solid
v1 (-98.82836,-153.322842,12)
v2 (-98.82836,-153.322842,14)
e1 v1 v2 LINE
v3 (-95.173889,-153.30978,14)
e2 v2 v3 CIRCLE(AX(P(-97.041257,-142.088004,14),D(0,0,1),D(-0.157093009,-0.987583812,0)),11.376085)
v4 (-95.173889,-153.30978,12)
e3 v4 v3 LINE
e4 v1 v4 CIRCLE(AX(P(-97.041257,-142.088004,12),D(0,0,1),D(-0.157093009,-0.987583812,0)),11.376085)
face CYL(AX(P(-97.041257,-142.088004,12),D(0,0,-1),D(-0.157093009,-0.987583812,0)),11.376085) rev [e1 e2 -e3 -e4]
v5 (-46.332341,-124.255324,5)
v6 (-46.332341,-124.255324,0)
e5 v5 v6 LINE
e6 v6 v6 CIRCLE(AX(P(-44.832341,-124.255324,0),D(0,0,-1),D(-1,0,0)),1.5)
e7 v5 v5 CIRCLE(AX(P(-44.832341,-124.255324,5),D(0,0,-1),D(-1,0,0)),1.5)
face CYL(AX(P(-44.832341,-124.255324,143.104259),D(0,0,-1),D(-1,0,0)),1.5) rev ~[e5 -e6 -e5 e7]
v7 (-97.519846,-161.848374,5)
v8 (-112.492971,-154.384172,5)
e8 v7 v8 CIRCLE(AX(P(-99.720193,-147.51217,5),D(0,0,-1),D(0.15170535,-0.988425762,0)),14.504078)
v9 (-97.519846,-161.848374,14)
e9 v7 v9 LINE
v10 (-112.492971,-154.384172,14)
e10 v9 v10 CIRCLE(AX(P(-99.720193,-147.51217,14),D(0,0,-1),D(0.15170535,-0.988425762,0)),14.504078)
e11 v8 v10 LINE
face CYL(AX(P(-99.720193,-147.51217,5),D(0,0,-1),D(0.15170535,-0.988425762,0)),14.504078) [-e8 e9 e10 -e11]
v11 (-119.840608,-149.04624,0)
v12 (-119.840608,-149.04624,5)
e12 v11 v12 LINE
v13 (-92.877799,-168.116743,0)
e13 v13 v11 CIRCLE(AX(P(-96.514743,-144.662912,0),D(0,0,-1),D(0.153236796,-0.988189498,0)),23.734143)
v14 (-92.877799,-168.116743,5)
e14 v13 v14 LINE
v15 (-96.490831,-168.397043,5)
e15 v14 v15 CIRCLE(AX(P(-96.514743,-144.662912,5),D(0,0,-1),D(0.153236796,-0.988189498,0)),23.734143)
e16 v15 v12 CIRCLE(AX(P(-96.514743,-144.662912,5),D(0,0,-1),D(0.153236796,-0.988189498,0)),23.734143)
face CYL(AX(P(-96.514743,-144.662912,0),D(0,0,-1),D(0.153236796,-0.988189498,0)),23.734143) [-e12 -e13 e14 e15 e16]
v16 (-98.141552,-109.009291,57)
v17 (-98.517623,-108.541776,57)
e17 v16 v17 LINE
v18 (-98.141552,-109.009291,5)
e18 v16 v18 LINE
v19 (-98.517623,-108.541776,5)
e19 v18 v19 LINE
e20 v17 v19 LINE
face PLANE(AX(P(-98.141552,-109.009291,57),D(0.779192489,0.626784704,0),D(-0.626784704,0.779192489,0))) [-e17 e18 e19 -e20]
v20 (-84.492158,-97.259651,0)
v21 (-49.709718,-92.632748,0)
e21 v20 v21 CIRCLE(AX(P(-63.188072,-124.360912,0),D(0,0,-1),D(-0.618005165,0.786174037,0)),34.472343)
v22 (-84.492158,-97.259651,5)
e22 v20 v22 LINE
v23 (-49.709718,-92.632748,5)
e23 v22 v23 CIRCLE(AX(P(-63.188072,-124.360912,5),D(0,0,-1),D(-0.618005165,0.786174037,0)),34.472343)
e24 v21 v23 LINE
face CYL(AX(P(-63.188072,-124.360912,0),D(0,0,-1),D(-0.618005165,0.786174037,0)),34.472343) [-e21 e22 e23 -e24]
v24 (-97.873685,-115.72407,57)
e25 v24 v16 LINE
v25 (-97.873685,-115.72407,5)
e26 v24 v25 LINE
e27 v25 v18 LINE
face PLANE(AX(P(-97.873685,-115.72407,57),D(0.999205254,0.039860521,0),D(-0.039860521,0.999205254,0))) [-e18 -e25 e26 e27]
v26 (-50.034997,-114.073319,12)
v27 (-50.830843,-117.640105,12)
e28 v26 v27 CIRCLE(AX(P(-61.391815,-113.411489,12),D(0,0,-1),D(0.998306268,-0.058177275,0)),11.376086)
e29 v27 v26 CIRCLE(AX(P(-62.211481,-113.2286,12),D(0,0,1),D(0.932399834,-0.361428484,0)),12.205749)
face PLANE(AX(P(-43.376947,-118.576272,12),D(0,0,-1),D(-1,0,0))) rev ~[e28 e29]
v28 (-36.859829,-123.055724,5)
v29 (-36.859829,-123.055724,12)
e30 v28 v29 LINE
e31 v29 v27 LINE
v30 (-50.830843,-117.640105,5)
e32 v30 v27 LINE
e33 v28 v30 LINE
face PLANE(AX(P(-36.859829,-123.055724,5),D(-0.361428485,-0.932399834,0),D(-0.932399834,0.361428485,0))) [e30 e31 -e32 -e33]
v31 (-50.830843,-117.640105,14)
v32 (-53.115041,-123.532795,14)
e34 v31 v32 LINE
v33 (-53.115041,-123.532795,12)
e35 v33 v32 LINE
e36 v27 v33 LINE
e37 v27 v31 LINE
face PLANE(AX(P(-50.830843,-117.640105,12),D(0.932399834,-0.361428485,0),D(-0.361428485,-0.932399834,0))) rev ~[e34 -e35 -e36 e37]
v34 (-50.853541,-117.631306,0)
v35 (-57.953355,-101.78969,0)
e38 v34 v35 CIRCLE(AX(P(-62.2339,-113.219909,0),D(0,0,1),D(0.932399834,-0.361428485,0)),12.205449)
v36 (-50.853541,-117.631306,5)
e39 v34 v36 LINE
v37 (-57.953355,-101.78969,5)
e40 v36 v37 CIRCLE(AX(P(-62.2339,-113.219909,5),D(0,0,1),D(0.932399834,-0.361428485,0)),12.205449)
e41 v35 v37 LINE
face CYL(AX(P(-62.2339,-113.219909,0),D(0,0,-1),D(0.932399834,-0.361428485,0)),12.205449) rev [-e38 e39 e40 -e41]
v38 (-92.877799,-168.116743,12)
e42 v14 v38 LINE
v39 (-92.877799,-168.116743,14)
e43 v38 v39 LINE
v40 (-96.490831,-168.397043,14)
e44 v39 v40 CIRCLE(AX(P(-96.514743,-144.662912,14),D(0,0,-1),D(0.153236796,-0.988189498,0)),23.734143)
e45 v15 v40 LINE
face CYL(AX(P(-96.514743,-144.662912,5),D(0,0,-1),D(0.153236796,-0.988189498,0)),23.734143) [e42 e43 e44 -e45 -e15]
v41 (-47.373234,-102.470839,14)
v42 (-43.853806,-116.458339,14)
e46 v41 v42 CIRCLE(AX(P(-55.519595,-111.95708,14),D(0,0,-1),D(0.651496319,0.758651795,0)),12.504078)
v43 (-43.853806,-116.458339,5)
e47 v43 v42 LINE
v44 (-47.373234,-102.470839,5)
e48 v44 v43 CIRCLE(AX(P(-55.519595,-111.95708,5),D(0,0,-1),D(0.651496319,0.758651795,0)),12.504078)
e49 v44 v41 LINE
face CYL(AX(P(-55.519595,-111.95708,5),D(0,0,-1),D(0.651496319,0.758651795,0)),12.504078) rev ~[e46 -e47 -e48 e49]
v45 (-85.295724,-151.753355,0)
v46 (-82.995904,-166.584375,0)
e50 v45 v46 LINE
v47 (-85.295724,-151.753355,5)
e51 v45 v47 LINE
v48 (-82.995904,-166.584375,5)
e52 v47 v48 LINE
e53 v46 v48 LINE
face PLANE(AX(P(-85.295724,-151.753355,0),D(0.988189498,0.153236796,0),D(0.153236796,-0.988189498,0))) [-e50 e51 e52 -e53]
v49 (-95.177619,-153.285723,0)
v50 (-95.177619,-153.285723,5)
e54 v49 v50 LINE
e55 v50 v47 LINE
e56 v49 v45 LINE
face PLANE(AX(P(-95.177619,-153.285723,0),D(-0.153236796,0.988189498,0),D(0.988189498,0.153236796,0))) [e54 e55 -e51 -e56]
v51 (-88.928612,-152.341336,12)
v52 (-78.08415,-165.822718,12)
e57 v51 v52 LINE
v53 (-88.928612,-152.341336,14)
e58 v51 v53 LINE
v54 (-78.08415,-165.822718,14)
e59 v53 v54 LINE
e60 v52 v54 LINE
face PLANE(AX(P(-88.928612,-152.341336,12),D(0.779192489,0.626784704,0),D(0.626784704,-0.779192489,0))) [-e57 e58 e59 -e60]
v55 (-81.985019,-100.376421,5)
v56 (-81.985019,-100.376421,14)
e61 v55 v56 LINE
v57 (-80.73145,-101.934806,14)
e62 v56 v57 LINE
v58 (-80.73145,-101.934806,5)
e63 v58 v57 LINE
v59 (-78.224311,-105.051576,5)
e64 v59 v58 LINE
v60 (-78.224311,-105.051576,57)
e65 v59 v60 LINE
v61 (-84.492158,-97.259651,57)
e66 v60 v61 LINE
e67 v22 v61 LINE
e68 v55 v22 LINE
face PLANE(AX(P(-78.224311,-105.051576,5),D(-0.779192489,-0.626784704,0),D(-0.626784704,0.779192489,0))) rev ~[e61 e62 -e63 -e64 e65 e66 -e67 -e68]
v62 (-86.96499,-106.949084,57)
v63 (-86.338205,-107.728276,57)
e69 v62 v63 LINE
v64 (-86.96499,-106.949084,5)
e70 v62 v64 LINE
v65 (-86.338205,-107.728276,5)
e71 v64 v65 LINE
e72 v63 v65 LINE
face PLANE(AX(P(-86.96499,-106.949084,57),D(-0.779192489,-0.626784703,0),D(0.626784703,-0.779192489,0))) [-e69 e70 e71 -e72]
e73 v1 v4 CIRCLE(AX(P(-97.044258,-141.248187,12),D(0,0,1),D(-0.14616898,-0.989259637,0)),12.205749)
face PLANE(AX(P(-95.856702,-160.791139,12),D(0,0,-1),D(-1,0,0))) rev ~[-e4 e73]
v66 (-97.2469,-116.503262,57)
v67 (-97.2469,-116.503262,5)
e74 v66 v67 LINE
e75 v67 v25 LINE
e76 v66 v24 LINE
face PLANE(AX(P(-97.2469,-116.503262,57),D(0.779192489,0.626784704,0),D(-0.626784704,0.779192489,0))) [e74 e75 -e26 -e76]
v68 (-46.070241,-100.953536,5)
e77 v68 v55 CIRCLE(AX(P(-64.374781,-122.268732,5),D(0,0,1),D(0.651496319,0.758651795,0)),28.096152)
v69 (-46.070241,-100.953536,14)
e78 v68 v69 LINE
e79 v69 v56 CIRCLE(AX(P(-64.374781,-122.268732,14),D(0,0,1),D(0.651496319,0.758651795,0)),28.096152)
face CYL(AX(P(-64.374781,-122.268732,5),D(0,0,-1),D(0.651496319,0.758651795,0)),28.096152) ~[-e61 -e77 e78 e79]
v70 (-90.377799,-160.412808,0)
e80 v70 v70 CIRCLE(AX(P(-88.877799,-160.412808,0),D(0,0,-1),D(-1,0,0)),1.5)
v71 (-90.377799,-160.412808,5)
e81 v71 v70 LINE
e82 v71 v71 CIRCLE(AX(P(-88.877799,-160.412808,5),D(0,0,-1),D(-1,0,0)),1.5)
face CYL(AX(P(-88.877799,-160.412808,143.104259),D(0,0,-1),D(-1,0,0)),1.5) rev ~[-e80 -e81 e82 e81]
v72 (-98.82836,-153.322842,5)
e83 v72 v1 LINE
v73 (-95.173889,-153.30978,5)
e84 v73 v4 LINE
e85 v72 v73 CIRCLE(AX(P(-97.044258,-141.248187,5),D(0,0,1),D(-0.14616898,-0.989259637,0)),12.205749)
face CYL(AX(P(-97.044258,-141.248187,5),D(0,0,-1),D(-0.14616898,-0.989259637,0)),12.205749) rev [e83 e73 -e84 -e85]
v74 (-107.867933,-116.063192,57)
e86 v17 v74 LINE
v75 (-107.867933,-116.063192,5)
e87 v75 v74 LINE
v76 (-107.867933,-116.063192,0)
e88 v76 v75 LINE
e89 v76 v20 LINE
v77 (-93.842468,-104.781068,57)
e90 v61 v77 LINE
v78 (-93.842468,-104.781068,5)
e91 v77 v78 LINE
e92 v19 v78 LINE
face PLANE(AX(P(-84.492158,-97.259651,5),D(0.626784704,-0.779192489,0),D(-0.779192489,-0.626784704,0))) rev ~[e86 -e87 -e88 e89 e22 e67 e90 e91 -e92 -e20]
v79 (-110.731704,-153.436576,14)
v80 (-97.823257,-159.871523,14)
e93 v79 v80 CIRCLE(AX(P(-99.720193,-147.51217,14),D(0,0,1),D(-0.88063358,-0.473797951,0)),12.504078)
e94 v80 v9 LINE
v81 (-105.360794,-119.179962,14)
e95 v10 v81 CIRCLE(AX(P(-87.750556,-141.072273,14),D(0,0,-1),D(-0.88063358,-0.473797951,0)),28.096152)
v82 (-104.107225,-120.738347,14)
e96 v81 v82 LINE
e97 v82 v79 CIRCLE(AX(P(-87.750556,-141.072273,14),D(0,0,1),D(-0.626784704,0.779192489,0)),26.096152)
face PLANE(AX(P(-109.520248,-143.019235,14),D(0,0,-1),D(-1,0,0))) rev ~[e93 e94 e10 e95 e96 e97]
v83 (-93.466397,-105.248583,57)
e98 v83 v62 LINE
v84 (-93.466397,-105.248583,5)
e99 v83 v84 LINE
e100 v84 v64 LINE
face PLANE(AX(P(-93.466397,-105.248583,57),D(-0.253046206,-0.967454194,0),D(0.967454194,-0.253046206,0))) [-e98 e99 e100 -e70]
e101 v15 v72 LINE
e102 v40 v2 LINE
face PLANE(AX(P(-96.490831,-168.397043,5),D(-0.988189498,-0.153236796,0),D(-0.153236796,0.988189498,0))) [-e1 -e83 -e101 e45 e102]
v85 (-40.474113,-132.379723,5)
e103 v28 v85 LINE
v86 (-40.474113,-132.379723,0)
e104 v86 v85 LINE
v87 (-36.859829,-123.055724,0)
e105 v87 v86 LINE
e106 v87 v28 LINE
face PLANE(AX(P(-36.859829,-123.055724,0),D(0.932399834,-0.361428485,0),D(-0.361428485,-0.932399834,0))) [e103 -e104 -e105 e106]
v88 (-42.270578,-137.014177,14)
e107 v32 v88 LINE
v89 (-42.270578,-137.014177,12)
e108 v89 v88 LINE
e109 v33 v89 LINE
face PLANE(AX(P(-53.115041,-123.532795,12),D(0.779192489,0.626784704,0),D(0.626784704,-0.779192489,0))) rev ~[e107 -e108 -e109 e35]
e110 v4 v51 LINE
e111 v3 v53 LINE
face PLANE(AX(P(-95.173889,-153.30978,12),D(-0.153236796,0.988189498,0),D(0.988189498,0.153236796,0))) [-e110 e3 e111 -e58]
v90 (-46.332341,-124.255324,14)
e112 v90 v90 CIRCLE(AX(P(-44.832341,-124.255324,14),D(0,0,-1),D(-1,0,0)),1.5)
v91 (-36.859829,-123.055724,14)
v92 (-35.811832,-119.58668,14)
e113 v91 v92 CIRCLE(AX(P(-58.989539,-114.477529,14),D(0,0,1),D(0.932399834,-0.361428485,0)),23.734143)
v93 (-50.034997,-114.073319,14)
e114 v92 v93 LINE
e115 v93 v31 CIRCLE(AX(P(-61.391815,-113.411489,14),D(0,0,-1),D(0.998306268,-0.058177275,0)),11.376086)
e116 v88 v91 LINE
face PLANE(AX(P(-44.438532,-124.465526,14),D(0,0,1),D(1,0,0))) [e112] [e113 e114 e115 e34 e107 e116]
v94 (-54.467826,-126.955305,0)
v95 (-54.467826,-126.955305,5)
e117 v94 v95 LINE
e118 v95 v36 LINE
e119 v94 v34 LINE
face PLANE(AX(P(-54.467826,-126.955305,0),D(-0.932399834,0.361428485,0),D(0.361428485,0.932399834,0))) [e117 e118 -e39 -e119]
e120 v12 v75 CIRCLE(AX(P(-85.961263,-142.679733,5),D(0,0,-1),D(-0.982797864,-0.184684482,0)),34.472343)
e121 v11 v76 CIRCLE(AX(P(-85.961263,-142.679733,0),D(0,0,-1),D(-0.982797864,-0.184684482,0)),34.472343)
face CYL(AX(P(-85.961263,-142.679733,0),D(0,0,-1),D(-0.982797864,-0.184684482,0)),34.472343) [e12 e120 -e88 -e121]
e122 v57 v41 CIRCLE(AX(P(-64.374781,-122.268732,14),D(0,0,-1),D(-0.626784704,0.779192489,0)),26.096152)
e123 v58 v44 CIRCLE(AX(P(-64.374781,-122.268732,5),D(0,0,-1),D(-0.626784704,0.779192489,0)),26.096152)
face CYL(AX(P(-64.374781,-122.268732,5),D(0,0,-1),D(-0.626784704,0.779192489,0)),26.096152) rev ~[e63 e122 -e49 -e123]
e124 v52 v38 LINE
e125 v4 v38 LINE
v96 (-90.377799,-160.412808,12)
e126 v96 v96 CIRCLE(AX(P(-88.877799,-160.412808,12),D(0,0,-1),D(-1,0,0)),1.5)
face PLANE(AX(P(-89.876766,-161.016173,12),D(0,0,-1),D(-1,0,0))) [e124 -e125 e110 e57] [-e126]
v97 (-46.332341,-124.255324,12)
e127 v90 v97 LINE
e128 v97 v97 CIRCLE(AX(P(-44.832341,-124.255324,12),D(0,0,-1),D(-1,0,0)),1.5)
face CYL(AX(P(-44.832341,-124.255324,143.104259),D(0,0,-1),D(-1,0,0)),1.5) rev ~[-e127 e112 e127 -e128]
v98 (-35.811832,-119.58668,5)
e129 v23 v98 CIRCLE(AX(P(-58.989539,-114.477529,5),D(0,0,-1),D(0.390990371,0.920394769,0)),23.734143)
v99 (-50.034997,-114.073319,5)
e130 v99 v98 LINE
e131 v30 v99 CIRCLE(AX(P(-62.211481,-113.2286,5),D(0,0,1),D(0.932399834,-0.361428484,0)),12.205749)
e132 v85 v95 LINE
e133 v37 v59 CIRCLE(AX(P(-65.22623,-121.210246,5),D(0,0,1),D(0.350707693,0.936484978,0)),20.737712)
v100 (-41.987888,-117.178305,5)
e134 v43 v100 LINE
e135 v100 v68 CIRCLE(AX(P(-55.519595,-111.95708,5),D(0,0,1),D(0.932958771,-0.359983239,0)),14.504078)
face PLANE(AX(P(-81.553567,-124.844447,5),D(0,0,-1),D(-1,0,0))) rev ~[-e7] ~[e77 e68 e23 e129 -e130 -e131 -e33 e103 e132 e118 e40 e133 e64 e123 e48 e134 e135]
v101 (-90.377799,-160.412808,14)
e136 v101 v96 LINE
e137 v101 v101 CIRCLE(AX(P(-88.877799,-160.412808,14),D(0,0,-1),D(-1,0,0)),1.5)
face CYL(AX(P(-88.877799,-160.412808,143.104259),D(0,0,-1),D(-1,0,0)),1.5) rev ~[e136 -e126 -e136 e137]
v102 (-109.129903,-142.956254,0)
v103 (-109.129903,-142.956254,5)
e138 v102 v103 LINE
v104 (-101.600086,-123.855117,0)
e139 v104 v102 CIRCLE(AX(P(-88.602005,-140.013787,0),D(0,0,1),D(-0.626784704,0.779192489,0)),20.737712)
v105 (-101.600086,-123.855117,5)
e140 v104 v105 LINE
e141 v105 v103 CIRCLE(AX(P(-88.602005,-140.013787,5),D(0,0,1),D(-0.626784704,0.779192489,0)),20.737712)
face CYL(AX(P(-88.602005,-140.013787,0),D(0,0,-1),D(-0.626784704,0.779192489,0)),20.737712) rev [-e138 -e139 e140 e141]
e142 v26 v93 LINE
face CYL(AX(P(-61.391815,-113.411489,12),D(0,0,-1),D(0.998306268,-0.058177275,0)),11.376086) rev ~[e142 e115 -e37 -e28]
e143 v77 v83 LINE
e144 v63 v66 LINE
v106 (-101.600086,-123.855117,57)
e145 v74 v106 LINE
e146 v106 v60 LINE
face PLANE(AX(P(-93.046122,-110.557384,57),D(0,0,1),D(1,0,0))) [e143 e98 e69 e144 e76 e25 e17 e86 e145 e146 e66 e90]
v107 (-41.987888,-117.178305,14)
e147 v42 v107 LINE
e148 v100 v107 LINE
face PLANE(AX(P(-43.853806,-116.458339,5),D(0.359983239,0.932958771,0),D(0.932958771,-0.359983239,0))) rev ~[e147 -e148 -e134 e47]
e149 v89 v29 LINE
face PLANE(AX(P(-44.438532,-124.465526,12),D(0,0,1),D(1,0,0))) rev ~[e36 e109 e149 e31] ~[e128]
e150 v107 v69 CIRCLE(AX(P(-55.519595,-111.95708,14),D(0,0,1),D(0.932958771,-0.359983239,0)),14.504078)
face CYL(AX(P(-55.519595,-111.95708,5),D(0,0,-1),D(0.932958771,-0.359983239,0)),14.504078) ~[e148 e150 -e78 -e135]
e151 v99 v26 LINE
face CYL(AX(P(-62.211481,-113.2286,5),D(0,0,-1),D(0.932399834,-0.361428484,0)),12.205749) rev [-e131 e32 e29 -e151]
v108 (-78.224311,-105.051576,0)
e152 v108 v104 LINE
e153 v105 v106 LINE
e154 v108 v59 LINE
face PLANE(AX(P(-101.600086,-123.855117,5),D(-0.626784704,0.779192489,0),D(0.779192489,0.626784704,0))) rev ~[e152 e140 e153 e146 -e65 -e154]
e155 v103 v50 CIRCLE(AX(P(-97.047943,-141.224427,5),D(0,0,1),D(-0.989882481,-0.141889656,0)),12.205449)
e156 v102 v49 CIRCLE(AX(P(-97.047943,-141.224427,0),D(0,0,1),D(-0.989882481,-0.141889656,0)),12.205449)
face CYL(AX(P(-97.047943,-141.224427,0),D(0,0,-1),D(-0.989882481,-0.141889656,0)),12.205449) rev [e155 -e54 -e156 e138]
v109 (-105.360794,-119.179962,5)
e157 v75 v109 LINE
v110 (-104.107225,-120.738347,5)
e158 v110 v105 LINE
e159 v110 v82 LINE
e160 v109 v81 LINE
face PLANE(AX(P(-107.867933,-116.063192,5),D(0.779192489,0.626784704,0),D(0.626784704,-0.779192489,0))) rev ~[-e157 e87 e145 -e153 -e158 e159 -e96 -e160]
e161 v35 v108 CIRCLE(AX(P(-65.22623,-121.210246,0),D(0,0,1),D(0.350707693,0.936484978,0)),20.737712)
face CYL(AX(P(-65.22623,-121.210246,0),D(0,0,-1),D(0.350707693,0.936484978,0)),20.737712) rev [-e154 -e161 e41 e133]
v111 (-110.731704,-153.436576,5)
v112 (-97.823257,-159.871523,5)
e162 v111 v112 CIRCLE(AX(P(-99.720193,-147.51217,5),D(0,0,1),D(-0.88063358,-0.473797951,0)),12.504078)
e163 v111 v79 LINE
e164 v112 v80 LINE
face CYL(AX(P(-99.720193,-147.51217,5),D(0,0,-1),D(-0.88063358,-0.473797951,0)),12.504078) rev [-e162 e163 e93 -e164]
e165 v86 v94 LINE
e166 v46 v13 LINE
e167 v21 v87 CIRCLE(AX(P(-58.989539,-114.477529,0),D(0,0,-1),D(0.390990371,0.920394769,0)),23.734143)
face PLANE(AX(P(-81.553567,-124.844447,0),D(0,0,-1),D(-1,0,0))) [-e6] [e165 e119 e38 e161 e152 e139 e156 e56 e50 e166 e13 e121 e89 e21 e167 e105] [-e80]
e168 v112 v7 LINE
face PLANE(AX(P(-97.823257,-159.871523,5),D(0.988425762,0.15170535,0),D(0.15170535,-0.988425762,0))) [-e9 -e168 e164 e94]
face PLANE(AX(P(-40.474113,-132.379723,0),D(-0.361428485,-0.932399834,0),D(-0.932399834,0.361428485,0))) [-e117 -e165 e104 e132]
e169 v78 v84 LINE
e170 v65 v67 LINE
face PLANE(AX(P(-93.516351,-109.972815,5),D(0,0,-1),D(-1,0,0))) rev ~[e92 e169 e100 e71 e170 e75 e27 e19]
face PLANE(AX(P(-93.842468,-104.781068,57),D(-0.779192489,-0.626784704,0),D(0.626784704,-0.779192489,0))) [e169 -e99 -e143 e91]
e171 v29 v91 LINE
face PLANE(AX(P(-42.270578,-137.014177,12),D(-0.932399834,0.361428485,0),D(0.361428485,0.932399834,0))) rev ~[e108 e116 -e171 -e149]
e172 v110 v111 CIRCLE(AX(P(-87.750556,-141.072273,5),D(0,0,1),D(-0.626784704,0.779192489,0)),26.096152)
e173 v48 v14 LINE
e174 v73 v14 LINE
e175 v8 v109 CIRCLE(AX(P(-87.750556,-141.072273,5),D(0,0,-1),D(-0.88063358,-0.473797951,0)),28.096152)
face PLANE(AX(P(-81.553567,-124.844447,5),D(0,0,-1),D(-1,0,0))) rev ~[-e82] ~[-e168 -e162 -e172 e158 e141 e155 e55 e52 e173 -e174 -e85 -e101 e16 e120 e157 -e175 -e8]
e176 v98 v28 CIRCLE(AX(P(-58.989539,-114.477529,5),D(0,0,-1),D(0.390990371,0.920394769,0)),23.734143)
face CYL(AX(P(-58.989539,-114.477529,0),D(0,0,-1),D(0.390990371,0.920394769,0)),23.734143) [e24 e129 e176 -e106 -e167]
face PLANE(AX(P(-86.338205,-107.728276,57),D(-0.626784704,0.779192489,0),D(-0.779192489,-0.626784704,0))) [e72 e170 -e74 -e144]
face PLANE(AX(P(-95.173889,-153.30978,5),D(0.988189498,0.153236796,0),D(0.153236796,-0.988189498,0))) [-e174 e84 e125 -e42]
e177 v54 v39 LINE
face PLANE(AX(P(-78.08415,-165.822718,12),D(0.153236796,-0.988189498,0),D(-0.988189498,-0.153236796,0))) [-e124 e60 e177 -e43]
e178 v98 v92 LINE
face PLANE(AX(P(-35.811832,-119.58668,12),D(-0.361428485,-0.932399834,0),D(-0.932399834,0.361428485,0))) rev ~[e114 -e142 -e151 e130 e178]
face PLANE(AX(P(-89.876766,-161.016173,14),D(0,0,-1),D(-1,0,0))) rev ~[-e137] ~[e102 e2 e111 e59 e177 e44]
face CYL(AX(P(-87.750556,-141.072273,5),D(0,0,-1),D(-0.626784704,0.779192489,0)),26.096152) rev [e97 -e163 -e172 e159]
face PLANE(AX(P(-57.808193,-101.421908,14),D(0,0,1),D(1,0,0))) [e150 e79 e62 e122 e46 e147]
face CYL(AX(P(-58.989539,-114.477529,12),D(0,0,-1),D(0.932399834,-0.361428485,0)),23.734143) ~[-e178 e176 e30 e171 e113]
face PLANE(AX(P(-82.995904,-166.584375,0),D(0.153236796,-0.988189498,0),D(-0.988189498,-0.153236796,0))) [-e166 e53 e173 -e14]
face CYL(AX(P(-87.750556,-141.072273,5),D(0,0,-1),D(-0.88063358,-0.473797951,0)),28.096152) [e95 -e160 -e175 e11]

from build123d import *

# Parameters (mm, degrees)
ESTRUSIONE_ESTRUSIONE1_DEPTH = 5
ESTRUSIONE_ESTRUSIONE2_DEPTH = 7
ESTRUSIONE_ESTRUSIONE3_DEPTH = 2
ESTRUSIONE_ESTRUSIONE4_DEPTH = 52
TAGLIO_ESTRUSIONE2_DEPTH     = 52
ESTRUSIONE_ESTRUSIONE5_DEPTH = 9
FORI_FILETTATI_3_0MM1_D      = 3


with BuildPart() as part:
    # Schizzo1 → Estrusione-Estrusione1 (new body)
    with BuildSketch(Plane.XY):
        with BuildLine():
            Line((-82.995904107, -166.584374689), (-92.877799089, -168.116742646))
            ThreePointArc((-92.877799089, -168.116742646), (-110.220012955, -164.040092202), (-119.840608042, -149.046239769))
            ThreePointArc((-119.840608042, -149.046239769), (-118.364815633, -130.917411526), (-107.867932944, -116.063192243))
            Line((-107.867932944, -116.063192243), (-84.49215827, -97.259651129))
            ThreePointArc((-84.49215827, -97.259651129), (-67.733683115, -90.189581316), (-49.709718148, -92.632748029))
            ThreePointArc((-49.709718148, -92.632748029), (-37.125664022, -105.242785395), (-36.859828578, -123.055724291))
            Line((-36.859828578, -123.055724291), (-40.474113425, -132.379722631))
            Line((-40.474113425, -132.379722631), (-54.467826156, -126.955304689))
            Line((-54.467826156, -126.955304689), (-50.853541308, -117.631306349))
            ThreePointArc((-50.853541308, -117.631306349), (-51.095893898, -108.22813541), (-57.953355129, -101.789689638))
            ThreePointArc((-57.953355129, -101.789689638), (-68.520842721, -100.735914417), (-78.224311232, -105.051576021))
            Line((-78.224311232, -105.051576021), (-101.600085906, -123.855117134))
            ThreePointArc((-101.600085906, -123.855117134), (-107.894780127, -132.408424149), (-109.129903142, -142.956253658))
            ThreePointArc((-109.129903142, -142.956253658), (-104.310440062, -151.034071069), (-95.177618995, -153.285723315))
            Line((-95.177618995, -153.285723315), (-85.295724012, -151.753355358))
            Line((-85.295724012, -151.753355358), (-82.995904107, -166.584374689))
        make_face()
    extrude(amount=ESTRUSIONE_ESTRUSIONE1_DEPTH)

    # Schizzo2 → Estrusione-Estrusione2 (add)
    with BuildSketch(Plane.XY.offset(5)):
        with BuildLine():
            Line((-36.859828578, -123.055724291), (-50.830842779, -117.640105037))
            ThreePointArc((-50.830842779, -117.640105037), (-50.298673229, -115.886666013), (-50.034997321, -114.073318872))
            Line((-50.034997321, -114.073318872), (-35.811832194, -119.586680021))
            ThreePointArc((-35.811832194, -119.586680021), (-36.269524014, -121.341233275), (-36.859828578, -123.055724291))
        make_face()
        with BuildLine():
            Line((-96.490830562, -168.397042736), (-98.828360202, -153.322841843))
            ThreePointArc((-98.828360202, -153.322841843), (-97.000632762, -153.453858051), (-95.173888567, -153.309779998))
            Line((-95.173888567, -153.309779998), (-92.877799089, -168.116742646))
            ThreePointArc((-92.877799089, -168.116742646), (-94.678957246, -168.325951195), (-96.490830562, -168.397042736))
        make_face()
    extrude(amount=ESTRUSIONE_ESTRUSIONE2_DEPTH)

    # Schizzo3 → Estrusione-Estrusione3 (add)
    with BuildSketch(Plane.XY.offset(12)):
        with BuildLine():
            Line((-42.270578454, -137.014176653), (-36.859828578, -123.055724291))
            ThreePointArc((-36.859828578, -123.055724291), (-36.269524014, -121.341233275), (-35.811832194, -119.586680021))
            Line((-35.811832194, -119.586680021), (-50.034997321, -114.073318872))
            ThreePointArc((-50.034997321, -114.073318872), (-50.288758238, -115.888878313), (-50.830842779, -117.640105037))
            Line((-50.830842779, -117.640105037), (-53.115040991, -123.532795079))
            Line((-53.115040991, -123.532795079), (-42.270578454, -137.014176653))
        make_face()
        with BuildLine():
            Line((-96.490830562, -168.397042736), (-98.828360202, -153.322841843))
            ThreePointArc((-98.828360202, -153.322841843), (-97.000596453, -153.464016791), (-95.173888567, -153.309779998))
            Line((-95.173888567, -153.309779998), (-88.928612449, -152.34133609))
            Line((-88.928612449, -152.34133609), (-78.084149913, -165.822717664))
            Line((-78.084149913, -165.822717664), (-92.877799089, -168.116742646))
            ThreePointArc((-92.877799089, -168.116742646), (-94.678957246, -168.325951195), (-96.490830562, -168.397042736))
        make_face()
    extrude(amount=ESTRUSIONE_ESTRUSIONE3_DEPTH)

    # Schizzo4 → Estrusione-Estrusione4 (add)
    with BuildSketch(Plane.XY.offset(5)):
        Polygon((-101.600085906, -123.855117134), (-78.224311232, -105.051576021), (-84.49215827, -97.259651129), (-107.867932944, -116.063192243), align=None)
    extrude(amount=ESTRUSIONE_ESTRUSIONE4_DEPTH)

    # Schizzo5 → Taglio-Estrusione2 (cut)
    with BuildSketch(Plane.XY.offset(57)):
        Polygon((-97.246900104, -116.503262037), (-97.873684808, -115.724069548), (-98.141552252, -109.009291291), (-98.517623074, -108.541775798), (-93.842468139, -104.781067575), (-93.466397317, -105.248583068), (-86.96498996, -106.949083694), (-86.338205256, -107.728276184), align=None)
    extrude(amount=-TAGLIO_ESTRUSIONE2_DEPTH, mode=Mode.SUBTRACT)

    # Schizzo6 → Estrusione-Estrusione5 (add)
    with BuildSketch(Plane.XY.offset(5)):
        with BuildLine():
            Line((-105.360794128, -119.1799622), (-104.107224721, -120.738347178))
            ThreePointArc((-104.107224721, -120.738347178), (-113.327097811, -135.89060806), (-110.731703589, -153.436576214))
            ThreePointArc((-110.731703589, -153.436576214), (-105.298812913, -158.702833766), (-97.823256998, -159.87152255))
            Line((-97.823256998, -159.87152255), (-97.519846298, -161.848374074))
            ThreePointArc((-97.519846298, -161.848374074), (-106.191101066, -160.49275607), (-112.492970749, -154.384172115))
            ThreePointArc((-112.492970749, -154.384172115), (-115.28727508, -135.493487076), (-105.360794128, -119.1799622))
        make_face()
        with BuildLine():
            Line((-43.853805634, -116.458338954), (-41.987888093, -117.178305432))
            ThreePointArc((-41.987888093, -117.178305432), (-41.453924934, -108.417983362), (-46.070241465, -100.953535552))
            ThreePointArc((-46.070241465, -100.953535552), (-63.923362402, -94.176206375), (-81.985019455, -100.376421086))
            Line((-81.985019455, -100.376421086), (-80.731450047, -101.934806064))
            ThreePointArc((-80.731450047, -101.934806064), (-63.955496248, -96.175948212), (-47.373234104, -102.470839142))
            ThreePointArc((-47.373234104, -102.470839142), (-43.393471858, -108.905997429), (-43.853805634, -116.458338954))
        make_face()
    extrude(amount=ESTRUSIONE_ESTRUSIONE5_DEPTH)

    # Fori filettati Ø3.0mm1 (through all)
    with Locations(Plane.XY.offset(14)):
        with Locations((-88.877799089, -160.412808131), (-44.832341355, -124.255324234)):
            Hole(FORI_FILETTATI_3_0MM1_D / 2)


solid = part.part
